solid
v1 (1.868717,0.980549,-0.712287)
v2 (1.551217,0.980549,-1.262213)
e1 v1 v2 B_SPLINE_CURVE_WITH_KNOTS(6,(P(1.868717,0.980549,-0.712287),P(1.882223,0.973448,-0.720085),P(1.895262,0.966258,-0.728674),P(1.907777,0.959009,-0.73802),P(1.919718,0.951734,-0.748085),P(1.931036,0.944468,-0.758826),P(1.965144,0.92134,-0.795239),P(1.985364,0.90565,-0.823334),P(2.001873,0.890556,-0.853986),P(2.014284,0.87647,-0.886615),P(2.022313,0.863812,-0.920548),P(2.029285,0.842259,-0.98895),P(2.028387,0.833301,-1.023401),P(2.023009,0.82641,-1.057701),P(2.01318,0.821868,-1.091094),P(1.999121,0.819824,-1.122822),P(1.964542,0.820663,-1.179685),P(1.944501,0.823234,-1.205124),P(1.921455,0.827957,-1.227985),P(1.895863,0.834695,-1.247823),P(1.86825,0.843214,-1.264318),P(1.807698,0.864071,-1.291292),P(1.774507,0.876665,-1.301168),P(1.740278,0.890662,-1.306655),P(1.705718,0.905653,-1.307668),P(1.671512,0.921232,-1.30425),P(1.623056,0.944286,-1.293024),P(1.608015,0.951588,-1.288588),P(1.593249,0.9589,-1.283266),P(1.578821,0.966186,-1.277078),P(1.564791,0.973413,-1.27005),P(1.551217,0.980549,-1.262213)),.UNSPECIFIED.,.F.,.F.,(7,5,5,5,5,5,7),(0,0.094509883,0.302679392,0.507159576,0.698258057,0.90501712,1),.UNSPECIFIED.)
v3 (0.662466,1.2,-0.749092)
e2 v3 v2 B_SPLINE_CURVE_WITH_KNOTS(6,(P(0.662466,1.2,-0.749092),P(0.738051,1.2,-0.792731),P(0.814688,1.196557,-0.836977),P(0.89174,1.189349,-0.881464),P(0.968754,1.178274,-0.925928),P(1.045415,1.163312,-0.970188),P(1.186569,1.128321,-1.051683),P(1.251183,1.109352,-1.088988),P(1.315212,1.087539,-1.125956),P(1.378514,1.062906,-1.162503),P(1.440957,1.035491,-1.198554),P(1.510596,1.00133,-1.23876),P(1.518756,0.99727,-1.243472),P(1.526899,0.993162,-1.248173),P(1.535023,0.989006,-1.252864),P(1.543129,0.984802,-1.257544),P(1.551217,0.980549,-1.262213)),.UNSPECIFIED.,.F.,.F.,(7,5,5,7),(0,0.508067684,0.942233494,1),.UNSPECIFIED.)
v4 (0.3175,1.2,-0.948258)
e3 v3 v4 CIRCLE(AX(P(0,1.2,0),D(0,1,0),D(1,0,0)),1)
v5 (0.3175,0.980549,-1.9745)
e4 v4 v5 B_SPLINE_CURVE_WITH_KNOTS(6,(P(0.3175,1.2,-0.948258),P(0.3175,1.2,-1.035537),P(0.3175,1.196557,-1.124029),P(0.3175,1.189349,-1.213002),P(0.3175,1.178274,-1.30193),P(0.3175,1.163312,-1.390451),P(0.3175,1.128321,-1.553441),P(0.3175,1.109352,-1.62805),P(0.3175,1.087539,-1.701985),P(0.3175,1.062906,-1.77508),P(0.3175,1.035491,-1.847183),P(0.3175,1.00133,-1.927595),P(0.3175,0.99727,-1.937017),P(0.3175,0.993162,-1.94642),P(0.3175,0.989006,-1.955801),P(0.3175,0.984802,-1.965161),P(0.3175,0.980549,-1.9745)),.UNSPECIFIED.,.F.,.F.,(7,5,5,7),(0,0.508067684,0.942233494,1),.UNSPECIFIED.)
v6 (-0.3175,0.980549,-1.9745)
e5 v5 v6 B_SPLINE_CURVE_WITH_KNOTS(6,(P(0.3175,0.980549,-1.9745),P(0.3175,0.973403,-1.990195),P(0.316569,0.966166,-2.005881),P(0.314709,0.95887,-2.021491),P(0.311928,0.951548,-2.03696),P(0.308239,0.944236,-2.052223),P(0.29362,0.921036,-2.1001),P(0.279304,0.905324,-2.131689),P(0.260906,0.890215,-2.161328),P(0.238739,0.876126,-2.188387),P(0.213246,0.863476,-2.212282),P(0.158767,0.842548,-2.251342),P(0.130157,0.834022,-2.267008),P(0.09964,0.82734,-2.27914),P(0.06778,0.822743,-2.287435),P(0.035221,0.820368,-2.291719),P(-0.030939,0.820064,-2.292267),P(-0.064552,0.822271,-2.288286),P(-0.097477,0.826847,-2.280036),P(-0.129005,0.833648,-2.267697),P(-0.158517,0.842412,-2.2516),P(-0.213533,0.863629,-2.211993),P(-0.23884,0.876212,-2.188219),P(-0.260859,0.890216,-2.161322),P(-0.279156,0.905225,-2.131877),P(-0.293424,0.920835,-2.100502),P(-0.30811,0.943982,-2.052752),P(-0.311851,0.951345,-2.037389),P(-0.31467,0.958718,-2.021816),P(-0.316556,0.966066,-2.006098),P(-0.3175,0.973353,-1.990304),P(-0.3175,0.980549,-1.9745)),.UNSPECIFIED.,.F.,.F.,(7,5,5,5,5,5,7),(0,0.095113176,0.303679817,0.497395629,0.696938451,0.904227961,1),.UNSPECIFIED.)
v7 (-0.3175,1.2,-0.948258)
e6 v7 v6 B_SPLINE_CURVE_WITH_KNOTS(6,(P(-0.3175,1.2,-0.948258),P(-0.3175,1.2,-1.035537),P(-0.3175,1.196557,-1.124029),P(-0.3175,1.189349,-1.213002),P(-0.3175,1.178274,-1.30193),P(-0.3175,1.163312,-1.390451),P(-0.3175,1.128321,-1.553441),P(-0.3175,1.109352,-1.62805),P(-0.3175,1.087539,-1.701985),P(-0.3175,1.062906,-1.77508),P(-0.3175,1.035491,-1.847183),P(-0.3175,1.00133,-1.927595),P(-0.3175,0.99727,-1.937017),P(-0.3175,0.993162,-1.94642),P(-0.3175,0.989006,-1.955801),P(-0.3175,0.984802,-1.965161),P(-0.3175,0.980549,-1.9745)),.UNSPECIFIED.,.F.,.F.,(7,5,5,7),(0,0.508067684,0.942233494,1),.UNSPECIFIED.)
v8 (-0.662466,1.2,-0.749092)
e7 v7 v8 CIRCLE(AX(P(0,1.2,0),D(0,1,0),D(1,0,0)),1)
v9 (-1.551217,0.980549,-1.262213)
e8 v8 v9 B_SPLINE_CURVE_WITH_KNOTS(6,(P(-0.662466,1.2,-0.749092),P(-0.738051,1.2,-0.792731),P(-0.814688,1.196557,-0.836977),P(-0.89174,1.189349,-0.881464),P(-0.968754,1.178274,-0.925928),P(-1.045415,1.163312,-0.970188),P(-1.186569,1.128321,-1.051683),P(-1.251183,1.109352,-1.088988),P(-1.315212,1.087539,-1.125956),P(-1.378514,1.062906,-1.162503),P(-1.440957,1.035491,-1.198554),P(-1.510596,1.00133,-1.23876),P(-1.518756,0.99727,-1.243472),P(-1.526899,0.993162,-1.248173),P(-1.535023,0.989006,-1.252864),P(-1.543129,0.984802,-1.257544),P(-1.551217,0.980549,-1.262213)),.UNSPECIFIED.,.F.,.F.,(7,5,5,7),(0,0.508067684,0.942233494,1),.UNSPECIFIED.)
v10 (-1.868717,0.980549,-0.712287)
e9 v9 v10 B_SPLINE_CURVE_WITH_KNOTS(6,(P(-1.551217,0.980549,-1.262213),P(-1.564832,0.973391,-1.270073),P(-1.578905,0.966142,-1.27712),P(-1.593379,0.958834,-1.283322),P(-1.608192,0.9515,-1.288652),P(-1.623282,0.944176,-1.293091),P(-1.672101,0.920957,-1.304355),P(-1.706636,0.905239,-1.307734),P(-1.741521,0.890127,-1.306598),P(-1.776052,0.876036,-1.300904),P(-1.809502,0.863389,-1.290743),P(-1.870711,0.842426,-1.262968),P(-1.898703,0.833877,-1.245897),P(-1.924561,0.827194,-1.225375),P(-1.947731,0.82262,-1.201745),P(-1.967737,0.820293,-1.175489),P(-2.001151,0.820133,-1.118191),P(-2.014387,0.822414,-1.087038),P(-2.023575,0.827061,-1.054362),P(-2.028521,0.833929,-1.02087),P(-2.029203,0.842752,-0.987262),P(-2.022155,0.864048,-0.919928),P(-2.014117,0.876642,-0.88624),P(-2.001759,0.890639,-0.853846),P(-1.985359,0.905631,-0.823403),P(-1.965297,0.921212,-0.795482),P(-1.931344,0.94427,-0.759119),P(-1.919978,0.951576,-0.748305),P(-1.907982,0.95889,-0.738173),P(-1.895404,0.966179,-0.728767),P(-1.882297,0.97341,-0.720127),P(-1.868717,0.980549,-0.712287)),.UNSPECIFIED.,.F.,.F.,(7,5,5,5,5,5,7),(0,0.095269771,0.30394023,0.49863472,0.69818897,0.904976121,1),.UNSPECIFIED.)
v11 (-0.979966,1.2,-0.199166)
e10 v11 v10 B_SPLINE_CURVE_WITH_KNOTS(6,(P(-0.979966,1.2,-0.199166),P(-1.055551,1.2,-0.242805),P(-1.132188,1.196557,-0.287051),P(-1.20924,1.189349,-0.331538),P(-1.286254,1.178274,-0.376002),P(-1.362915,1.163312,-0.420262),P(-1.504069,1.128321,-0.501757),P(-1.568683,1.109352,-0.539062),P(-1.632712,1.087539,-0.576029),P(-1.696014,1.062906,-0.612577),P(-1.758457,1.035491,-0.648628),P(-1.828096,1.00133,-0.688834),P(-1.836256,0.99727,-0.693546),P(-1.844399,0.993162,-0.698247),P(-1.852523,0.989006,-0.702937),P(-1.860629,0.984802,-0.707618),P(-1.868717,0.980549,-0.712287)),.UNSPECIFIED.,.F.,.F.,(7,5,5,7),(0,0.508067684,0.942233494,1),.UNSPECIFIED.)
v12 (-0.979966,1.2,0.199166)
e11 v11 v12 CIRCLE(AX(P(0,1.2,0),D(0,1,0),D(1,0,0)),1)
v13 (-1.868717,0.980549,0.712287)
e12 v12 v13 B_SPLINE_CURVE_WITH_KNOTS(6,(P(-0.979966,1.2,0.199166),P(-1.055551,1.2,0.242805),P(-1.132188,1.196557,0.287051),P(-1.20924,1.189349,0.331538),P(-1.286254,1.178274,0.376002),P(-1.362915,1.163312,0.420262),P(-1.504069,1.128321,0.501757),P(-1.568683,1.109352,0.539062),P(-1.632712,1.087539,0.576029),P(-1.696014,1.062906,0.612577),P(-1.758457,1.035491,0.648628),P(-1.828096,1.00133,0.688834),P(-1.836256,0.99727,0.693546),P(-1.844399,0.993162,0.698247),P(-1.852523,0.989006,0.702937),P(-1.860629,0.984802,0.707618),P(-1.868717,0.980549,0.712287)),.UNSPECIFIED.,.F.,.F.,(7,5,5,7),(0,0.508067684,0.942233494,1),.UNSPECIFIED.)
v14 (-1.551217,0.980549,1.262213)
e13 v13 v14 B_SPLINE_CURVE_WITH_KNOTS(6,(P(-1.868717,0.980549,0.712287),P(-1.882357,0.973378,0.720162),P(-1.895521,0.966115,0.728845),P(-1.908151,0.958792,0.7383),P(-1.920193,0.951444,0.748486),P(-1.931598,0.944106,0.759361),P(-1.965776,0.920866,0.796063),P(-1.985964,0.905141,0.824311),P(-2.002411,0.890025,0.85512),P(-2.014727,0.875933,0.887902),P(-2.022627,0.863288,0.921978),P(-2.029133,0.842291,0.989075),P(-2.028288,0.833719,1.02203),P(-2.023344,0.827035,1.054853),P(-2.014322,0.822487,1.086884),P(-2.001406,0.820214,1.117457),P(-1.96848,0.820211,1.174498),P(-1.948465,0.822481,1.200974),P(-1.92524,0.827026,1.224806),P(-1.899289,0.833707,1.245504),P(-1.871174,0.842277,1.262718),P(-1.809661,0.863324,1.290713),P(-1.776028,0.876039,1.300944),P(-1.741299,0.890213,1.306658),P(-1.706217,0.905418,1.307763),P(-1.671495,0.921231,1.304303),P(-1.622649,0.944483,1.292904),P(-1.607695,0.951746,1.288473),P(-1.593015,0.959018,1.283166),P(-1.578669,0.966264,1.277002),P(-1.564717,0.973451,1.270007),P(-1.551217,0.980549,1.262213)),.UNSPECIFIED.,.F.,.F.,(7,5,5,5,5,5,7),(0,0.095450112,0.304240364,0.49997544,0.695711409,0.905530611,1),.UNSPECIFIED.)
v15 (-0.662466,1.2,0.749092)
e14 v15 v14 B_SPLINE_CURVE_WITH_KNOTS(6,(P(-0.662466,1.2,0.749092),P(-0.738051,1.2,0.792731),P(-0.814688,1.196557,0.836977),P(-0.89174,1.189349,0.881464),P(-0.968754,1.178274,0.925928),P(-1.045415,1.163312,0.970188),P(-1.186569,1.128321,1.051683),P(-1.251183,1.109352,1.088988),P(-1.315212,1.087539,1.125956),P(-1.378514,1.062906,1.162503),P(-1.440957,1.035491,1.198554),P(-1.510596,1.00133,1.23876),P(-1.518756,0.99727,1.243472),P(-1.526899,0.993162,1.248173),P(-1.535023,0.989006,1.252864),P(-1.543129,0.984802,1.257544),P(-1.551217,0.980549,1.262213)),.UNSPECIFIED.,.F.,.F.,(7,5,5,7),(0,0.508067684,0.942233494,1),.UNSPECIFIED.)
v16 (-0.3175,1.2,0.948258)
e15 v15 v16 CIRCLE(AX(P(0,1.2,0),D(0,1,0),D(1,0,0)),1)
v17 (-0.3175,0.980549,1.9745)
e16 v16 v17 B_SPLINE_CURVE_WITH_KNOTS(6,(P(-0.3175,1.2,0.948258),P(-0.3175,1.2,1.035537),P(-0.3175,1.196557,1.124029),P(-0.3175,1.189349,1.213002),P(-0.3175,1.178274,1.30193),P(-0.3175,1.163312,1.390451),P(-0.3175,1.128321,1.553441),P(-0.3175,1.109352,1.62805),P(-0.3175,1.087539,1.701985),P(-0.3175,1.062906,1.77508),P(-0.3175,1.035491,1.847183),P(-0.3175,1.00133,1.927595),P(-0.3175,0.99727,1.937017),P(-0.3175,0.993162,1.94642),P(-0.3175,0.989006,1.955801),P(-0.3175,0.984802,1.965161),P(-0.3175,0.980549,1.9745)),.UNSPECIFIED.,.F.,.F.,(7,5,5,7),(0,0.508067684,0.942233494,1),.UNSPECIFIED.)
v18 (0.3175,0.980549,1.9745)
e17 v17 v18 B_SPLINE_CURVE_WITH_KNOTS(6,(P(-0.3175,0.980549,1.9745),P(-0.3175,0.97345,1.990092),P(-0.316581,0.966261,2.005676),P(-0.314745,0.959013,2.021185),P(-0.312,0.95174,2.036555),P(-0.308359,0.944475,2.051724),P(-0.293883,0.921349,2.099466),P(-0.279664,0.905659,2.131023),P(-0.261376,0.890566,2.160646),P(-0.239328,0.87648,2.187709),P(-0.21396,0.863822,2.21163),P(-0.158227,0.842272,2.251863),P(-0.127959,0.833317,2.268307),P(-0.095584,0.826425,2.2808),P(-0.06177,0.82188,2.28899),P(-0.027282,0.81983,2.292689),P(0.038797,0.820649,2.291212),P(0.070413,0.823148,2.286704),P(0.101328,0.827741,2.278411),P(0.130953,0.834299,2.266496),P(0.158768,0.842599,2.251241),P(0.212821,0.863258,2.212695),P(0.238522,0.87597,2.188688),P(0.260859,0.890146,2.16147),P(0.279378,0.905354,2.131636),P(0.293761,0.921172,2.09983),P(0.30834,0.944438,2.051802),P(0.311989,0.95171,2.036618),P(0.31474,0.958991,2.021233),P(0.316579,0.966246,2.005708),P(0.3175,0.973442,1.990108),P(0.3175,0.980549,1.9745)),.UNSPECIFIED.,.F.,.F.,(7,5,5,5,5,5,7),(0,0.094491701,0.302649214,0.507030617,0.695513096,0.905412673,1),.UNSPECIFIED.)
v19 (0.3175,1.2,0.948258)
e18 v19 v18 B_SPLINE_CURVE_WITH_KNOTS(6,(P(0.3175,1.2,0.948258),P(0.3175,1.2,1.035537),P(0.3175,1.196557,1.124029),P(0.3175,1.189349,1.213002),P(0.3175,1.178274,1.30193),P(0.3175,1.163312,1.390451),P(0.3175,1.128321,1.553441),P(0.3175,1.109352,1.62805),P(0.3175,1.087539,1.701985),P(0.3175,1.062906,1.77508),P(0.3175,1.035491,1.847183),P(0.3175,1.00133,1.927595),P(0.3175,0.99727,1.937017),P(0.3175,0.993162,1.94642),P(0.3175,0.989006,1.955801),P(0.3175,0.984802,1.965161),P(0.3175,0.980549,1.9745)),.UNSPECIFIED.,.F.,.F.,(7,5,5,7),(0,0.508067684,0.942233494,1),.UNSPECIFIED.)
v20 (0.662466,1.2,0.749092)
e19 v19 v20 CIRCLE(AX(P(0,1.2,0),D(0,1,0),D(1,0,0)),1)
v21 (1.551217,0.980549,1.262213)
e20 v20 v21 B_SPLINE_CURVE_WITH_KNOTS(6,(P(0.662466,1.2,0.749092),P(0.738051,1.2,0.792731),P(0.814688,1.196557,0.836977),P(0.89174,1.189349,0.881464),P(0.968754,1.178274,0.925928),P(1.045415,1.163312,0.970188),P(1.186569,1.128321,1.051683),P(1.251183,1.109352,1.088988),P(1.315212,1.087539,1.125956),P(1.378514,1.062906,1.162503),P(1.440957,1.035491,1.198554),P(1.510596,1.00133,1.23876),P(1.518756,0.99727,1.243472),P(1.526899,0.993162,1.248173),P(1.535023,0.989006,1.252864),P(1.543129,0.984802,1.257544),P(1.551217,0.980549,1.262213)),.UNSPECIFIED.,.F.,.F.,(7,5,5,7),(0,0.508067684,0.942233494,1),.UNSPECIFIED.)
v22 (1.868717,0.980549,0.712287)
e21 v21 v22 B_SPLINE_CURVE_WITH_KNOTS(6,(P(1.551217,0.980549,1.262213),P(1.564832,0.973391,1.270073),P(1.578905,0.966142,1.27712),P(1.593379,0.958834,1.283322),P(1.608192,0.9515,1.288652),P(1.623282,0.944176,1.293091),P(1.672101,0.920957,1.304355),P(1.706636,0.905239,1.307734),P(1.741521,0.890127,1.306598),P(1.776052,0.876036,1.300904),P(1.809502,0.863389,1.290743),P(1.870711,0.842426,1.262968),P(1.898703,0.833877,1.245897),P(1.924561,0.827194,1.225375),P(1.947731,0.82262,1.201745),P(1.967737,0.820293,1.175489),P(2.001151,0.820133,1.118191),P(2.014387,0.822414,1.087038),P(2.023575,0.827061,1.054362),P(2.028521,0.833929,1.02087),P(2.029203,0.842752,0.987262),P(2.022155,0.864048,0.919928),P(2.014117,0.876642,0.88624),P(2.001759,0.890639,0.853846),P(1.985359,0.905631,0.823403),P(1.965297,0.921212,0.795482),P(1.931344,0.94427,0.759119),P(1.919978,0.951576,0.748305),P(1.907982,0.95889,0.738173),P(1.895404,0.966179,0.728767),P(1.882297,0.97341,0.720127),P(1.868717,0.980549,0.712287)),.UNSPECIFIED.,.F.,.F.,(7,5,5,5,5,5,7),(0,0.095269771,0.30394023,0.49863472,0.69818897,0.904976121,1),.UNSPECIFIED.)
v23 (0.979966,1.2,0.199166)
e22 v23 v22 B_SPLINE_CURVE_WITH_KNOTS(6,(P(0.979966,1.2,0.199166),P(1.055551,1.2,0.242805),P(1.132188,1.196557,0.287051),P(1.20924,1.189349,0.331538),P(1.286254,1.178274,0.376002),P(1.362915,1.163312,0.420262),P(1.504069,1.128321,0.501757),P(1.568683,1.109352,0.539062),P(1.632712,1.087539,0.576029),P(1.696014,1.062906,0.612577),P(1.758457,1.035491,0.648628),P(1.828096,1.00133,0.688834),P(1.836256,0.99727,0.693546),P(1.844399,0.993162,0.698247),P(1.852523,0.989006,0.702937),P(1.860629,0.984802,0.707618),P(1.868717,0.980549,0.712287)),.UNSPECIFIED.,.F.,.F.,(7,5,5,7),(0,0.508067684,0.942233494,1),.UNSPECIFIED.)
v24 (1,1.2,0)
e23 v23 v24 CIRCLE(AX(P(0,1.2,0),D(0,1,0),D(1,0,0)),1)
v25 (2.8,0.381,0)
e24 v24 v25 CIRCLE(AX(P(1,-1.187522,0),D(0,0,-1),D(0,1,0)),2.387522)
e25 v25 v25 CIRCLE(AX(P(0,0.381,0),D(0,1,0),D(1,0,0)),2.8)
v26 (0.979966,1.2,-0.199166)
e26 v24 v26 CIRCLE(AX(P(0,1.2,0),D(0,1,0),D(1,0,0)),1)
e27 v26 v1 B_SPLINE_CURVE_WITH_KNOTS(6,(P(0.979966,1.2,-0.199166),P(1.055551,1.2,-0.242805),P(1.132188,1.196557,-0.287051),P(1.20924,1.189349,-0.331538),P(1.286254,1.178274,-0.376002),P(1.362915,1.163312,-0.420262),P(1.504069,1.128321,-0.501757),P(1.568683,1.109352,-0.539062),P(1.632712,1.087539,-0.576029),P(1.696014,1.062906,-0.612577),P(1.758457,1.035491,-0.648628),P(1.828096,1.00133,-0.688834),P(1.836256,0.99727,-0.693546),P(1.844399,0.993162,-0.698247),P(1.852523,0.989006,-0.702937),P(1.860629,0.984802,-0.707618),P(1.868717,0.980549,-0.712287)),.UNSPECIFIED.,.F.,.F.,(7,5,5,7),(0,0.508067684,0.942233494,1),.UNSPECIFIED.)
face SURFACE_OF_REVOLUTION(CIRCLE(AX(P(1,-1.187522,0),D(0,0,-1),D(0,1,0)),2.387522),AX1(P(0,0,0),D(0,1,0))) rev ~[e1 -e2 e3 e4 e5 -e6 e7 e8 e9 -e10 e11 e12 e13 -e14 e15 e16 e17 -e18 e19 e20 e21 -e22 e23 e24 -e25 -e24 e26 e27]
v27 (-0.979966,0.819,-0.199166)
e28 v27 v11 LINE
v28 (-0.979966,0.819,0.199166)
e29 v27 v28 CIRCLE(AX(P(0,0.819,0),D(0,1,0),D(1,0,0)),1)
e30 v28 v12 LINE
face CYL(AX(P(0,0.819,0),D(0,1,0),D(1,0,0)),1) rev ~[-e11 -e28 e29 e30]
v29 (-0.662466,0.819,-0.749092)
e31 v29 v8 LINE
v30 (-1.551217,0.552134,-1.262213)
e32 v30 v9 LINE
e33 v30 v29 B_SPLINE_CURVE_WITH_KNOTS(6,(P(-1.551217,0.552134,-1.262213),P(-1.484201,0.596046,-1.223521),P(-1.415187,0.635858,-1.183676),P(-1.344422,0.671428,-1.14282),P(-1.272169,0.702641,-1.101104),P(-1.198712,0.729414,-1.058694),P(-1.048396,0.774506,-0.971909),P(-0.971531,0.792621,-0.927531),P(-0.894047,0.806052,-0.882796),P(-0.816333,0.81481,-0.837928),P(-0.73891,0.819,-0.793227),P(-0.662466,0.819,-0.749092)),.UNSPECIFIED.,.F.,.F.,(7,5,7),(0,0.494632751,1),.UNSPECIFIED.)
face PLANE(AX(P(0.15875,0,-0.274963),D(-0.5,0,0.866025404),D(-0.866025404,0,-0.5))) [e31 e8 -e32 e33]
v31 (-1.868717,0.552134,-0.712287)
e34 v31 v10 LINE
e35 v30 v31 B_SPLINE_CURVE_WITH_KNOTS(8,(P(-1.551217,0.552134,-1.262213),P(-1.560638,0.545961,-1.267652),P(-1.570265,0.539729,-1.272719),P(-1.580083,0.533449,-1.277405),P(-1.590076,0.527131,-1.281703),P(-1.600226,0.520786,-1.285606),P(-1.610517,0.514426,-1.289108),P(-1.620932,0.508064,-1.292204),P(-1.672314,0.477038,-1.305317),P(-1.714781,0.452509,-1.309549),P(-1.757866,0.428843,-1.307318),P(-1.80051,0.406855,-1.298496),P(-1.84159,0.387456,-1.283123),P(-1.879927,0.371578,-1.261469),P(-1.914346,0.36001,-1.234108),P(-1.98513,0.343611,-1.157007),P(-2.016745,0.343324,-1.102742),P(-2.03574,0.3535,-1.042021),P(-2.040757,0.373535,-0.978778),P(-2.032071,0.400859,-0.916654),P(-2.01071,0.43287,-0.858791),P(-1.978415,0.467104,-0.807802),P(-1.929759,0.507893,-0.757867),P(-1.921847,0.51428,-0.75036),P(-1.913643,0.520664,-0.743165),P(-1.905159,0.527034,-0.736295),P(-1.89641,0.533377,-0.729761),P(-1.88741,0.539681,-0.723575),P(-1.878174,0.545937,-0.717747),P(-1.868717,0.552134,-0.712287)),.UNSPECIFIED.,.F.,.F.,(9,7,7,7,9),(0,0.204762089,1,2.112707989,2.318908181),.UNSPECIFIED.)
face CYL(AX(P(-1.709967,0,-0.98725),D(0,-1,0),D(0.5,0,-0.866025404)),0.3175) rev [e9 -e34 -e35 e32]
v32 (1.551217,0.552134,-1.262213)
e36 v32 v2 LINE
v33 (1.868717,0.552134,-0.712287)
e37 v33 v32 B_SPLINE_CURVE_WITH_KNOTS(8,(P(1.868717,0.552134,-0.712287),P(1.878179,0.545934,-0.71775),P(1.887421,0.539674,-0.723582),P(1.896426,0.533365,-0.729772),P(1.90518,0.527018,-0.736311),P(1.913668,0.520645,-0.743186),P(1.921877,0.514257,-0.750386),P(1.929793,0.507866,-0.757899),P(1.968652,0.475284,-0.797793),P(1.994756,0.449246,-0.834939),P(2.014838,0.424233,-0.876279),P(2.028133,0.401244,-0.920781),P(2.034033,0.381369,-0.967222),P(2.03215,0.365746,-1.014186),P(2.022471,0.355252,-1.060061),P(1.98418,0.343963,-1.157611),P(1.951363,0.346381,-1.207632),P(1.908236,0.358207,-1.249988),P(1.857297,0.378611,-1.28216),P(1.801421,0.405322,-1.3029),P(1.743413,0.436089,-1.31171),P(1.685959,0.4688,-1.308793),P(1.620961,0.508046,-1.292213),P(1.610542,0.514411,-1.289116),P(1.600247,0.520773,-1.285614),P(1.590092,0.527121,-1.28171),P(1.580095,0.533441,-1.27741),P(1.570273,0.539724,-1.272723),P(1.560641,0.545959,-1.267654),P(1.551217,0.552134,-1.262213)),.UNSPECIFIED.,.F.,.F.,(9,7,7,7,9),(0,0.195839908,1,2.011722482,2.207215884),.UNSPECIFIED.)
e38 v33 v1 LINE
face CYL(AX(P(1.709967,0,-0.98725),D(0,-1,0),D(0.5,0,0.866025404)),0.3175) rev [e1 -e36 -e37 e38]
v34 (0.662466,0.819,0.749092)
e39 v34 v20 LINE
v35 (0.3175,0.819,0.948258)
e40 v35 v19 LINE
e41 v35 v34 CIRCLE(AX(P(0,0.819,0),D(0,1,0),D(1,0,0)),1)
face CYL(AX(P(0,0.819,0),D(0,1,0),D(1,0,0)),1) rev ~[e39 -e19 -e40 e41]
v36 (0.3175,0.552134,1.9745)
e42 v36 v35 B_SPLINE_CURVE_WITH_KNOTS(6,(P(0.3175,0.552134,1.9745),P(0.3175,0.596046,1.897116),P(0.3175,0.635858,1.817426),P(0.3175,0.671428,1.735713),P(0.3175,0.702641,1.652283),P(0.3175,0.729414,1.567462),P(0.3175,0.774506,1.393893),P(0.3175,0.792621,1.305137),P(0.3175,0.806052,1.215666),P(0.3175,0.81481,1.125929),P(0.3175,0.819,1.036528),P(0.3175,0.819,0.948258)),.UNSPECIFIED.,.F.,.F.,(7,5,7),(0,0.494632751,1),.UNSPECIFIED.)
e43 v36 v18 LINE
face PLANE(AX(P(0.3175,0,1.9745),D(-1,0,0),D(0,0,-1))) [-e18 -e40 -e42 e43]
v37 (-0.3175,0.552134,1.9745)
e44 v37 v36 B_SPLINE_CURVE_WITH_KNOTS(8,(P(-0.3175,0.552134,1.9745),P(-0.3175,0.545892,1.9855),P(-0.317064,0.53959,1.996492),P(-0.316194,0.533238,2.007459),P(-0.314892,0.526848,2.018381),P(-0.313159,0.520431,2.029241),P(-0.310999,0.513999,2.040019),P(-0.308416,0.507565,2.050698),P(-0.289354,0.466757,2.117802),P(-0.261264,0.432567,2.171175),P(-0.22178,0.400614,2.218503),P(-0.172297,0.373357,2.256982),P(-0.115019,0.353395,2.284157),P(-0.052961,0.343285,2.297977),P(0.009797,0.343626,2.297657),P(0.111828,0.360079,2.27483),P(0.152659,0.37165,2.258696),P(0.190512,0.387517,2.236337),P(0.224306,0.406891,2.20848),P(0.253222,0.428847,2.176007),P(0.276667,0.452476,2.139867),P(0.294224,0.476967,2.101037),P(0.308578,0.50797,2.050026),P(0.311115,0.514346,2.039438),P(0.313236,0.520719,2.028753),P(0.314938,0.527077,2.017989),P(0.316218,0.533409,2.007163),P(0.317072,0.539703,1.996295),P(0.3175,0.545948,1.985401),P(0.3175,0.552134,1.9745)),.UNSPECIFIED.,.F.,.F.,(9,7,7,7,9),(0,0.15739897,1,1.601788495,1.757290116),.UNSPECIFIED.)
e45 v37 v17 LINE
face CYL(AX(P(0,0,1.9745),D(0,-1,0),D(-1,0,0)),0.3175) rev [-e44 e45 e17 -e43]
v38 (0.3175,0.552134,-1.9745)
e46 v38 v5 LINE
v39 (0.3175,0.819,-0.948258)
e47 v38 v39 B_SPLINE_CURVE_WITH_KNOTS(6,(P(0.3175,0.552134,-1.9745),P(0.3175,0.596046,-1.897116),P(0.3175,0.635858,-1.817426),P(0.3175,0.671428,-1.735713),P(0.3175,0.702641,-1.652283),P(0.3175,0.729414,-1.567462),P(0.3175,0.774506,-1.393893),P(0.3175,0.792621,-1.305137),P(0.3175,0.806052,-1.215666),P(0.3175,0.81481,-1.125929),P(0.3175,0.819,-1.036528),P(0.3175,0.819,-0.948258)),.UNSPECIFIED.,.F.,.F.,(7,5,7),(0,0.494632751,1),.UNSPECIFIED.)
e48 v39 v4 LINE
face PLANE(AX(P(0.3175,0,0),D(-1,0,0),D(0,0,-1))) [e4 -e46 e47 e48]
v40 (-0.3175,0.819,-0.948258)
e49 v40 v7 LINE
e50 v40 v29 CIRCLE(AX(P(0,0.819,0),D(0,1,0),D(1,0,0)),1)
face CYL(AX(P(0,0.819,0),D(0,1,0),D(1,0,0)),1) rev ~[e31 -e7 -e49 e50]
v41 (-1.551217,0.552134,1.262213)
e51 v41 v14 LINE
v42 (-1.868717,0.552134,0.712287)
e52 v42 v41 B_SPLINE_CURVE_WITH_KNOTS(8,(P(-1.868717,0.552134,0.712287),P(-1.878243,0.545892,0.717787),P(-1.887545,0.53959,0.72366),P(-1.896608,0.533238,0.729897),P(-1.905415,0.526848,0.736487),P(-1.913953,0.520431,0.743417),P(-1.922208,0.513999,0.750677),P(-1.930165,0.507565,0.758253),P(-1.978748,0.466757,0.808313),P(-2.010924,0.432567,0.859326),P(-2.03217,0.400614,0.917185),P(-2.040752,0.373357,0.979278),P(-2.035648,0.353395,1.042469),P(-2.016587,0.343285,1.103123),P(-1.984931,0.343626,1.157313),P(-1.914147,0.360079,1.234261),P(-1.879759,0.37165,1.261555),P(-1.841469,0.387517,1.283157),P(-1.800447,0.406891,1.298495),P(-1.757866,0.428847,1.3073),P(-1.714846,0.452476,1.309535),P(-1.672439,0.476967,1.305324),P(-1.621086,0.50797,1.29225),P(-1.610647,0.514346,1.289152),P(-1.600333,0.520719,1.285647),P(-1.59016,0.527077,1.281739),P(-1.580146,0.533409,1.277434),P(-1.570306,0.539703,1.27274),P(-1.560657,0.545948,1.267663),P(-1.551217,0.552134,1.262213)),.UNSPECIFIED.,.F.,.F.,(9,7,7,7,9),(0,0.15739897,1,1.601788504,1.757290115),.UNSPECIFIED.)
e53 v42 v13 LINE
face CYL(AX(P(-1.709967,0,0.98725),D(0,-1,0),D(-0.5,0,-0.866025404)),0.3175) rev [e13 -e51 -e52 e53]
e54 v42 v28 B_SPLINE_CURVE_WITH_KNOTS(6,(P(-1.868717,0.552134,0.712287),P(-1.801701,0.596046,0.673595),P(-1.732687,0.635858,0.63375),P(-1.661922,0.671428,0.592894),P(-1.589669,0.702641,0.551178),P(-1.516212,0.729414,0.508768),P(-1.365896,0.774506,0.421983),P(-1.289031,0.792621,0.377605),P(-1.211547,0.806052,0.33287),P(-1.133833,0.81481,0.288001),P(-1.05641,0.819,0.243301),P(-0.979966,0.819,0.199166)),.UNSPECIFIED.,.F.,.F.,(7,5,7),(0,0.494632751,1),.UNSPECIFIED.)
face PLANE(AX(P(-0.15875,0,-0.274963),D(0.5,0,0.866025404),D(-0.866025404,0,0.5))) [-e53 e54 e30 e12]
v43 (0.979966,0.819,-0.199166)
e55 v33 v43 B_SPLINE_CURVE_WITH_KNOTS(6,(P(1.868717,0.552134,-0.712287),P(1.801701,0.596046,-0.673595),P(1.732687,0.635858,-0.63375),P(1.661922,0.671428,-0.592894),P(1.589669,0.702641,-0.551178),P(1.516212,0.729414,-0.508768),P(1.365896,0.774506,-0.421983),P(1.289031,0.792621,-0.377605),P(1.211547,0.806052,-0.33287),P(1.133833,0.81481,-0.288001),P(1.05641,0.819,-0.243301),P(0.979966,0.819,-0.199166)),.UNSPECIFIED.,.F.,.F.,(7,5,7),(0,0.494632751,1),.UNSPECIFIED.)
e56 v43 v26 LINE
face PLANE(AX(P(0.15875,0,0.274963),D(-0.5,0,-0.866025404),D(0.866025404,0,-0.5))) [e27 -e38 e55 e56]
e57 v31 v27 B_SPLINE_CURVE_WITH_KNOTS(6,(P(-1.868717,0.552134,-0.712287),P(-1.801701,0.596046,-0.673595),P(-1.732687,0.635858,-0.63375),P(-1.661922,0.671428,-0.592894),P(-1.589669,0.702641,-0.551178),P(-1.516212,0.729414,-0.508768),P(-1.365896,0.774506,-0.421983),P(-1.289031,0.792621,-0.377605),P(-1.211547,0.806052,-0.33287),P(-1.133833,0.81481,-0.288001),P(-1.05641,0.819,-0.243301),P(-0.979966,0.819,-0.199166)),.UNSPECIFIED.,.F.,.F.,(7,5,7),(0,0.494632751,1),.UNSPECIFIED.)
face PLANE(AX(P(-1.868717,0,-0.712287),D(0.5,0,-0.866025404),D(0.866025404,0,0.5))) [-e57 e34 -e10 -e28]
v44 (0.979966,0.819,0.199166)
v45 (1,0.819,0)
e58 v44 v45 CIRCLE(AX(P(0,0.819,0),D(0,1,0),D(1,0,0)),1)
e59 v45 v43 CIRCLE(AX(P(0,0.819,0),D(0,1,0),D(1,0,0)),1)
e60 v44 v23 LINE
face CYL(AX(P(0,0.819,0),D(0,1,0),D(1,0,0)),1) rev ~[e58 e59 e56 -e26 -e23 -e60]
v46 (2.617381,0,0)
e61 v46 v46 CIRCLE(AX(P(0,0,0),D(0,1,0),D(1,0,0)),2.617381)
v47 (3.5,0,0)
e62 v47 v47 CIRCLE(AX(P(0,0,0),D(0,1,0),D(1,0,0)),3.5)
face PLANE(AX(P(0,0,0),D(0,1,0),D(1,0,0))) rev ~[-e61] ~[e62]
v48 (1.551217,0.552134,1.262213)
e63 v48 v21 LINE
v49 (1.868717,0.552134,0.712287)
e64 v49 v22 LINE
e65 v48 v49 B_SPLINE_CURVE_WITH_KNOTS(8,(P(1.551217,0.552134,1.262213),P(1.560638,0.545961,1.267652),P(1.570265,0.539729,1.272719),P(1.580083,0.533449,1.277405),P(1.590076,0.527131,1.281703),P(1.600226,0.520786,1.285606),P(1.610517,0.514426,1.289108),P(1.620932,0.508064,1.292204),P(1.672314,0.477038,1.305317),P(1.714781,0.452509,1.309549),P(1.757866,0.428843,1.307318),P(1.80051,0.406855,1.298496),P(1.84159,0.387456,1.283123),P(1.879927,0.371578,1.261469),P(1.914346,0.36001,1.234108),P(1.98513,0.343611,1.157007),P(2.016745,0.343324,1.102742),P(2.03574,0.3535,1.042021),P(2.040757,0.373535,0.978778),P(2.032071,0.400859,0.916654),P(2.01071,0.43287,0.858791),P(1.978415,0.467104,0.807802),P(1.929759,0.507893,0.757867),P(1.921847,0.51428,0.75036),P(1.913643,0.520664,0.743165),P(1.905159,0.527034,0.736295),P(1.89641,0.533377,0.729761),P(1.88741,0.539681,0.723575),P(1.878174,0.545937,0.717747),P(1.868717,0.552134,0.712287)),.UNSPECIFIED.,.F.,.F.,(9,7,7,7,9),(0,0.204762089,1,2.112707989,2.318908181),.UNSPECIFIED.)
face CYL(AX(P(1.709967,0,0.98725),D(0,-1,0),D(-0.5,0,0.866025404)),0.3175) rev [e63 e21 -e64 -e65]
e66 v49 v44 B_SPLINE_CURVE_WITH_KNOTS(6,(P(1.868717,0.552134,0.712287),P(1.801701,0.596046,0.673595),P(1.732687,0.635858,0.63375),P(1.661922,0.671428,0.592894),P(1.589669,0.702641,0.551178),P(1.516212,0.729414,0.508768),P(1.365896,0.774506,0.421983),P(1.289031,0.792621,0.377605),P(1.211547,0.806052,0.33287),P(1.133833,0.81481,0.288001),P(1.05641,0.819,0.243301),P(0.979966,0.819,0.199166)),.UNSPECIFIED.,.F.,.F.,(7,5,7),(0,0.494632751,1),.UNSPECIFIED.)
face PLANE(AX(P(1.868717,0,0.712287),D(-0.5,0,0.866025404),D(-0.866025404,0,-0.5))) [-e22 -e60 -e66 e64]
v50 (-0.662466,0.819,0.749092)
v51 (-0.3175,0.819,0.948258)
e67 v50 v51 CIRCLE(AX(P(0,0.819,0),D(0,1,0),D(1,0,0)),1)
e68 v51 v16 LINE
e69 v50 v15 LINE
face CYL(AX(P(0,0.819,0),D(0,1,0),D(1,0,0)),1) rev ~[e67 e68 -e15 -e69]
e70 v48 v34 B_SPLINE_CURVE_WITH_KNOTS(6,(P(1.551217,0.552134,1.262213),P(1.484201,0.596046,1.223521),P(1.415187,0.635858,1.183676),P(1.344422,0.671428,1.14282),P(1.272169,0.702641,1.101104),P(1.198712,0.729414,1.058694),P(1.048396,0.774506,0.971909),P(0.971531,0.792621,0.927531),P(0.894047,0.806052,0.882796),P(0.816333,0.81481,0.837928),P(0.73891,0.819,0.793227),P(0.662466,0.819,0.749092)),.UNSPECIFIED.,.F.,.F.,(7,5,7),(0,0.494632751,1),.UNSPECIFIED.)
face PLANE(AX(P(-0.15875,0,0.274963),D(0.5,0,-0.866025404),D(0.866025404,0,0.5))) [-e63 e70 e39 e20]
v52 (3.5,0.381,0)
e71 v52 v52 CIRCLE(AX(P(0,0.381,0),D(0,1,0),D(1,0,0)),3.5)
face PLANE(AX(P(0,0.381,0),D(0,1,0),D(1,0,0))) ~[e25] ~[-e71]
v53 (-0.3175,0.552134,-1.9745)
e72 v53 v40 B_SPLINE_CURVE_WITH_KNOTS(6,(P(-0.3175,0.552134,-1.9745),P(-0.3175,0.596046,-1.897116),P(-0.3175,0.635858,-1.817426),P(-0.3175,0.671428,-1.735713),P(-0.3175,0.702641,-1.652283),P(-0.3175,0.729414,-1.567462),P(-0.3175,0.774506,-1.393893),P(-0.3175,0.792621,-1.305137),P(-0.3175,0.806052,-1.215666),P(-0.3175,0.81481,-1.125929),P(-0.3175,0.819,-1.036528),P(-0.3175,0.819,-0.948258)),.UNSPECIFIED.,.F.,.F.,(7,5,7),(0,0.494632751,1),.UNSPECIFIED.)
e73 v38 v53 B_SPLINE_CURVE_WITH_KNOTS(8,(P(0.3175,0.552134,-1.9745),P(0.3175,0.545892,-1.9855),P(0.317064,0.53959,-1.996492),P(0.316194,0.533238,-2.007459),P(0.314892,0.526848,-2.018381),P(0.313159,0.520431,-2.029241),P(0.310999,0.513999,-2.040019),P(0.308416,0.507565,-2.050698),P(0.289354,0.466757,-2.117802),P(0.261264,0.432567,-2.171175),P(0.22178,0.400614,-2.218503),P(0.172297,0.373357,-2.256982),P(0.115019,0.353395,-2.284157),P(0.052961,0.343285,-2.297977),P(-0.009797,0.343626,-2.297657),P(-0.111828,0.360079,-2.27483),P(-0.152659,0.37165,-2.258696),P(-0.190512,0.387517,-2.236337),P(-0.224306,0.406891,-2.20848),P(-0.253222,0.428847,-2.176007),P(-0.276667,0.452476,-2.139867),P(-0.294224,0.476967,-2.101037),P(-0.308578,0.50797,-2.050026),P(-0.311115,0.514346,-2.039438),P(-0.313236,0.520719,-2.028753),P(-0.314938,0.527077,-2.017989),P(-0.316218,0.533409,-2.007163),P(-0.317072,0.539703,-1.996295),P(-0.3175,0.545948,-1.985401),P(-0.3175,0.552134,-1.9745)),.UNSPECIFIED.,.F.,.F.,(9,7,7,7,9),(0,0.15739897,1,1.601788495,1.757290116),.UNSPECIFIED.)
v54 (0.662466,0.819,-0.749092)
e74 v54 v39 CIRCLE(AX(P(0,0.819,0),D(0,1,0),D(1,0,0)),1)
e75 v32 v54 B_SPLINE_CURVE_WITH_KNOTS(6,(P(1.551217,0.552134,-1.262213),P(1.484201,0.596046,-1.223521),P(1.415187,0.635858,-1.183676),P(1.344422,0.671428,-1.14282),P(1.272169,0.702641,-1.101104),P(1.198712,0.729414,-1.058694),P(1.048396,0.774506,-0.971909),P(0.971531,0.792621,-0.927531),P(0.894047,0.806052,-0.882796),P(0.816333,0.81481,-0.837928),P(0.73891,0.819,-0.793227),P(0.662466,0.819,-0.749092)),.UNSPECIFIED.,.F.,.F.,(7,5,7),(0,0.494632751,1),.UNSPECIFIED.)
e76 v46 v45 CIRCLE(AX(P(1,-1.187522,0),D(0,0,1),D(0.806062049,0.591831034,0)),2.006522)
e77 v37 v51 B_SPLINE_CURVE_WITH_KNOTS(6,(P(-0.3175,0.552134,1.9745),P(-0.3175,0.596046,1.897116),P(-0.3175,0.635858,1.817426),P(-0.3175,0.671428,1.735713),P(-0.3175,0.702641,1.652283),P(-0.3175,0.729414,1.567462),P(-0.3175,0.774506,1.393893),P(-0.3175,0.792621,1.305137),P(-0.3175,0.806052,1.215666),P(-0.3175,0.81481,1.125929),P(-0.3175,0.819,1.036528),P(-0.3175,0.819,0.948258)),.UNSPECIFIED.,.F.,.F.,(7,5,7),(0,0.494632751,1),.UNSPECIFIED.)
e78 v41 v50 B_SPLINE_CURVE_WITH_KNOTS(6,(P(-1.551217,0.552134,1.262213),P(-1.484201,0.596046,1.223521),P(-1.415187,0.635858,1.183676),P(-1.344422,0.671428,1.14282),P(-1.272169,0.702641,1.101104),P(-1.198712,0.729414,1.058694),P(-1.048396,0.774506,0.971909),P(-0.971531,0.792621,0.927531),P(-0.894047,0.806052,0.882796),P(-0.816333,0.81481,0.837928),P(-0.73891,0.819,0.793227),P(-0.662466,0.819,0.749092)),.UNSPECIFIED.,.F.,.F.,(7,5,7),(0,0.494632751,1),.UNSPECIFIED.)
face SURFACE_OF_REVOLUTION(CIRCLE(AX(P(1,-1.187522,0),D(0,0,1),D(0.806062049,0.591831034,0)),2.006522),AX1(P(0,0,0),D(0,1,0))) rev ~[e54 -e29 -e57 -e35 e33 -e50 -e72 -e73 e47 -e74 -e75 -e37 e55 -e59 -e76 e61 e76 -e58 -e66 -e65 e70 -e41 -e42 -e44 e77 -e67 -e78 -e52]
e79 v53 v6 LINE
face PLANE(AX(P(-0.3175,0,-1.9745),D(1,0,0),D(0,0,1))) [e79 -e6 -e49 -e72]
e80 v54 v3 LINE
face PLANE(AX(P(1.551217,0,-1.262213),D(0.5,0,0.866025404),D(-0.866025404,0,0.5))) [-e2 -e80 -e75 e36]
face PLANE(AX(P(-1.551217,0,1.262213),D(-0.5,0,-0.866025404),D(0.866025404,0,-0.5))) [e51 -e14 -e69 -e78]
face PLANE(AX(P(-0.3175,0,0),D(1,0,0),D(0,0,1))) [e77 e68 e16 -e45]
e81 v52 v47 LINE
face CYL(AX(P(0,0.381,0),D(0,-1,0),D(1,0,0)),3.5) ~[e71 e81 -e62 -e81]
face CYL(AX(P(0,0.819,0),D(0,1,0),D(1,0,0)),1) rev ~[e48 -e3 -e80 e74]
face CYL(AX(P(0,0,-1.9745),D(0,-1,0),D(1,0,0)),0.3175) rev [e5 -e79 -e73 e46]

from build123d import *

# Parameters (mm, degrees)
CUT_EXTRUDE1_DEPTH = 6.093132655
CIRPATTERN1_COUNT  = 6


with BuildPart() as part:
    # Sketch2 → Revolve1 (revolve)
    with BuildSketch(Plane.XY, mode=Mode.PRIVATE) as revolve1_sk:
        with BuildLine():
            Line((-3.5, 0), (-2.617381217, 0))
            ThreePointArc((-2.617381217, 0), (-1.906460562, 0.602578494), (-1, 0.819))
            Line((-1, 0.819), (-1, 1.2))
            ThreePointArc((-1, 1.2), (-1.988782206, 0.985625726), (-2.8, 0.381))
            Line((-2.8, 0.381), (-3.5, 0.381))
            Line((-3.5, 0.381), (-3.5, 0))
        make_face()
    revolve(revolve1_sk.sketch.rotate(Axis((0, 0, 0), (0, 1, 0)), 180), axis=Axis((0, 0, 0), (0, 1, 0)))

    # Sketch3 → Cut-Extrude1 (cut, through all)
    with BuildSketch(Plane(origin=(0, 0, 0), x_dir=(1, 0, 0), z_dir=(0, 1, 0))):
        with BuildLine():
            Line((-0.3175, 1.9745), (-0.3175, 0))
            Line((-0.3175, 0), (0.3175, 0))
            Line((0.3175, 0), (0.3175, 1.9745))
            ThreePointArc((0.3175, 1.9745), (0, 2.292), (-0.3175, 1.9745))
        make_face()
    cut_extrude1 = extrude(amount=CUT_EXTRUDE1_DEPTH, mode=Mode.SUBTRACT)

    # CirPattern1: Cut-Extrude1 ×6 about axis
    cirpattern1_axis = Axis((0, 0, 0), (0, 1, 0))
    for i in range(1, CIRPATTERN1_COUNT):
        add(cut_extrude1.rotate(cirpattern1_axis, i * 360 / CIRPATTERN1_COUNT), mode=Mode.SUBTRACT)


solid = part.part
